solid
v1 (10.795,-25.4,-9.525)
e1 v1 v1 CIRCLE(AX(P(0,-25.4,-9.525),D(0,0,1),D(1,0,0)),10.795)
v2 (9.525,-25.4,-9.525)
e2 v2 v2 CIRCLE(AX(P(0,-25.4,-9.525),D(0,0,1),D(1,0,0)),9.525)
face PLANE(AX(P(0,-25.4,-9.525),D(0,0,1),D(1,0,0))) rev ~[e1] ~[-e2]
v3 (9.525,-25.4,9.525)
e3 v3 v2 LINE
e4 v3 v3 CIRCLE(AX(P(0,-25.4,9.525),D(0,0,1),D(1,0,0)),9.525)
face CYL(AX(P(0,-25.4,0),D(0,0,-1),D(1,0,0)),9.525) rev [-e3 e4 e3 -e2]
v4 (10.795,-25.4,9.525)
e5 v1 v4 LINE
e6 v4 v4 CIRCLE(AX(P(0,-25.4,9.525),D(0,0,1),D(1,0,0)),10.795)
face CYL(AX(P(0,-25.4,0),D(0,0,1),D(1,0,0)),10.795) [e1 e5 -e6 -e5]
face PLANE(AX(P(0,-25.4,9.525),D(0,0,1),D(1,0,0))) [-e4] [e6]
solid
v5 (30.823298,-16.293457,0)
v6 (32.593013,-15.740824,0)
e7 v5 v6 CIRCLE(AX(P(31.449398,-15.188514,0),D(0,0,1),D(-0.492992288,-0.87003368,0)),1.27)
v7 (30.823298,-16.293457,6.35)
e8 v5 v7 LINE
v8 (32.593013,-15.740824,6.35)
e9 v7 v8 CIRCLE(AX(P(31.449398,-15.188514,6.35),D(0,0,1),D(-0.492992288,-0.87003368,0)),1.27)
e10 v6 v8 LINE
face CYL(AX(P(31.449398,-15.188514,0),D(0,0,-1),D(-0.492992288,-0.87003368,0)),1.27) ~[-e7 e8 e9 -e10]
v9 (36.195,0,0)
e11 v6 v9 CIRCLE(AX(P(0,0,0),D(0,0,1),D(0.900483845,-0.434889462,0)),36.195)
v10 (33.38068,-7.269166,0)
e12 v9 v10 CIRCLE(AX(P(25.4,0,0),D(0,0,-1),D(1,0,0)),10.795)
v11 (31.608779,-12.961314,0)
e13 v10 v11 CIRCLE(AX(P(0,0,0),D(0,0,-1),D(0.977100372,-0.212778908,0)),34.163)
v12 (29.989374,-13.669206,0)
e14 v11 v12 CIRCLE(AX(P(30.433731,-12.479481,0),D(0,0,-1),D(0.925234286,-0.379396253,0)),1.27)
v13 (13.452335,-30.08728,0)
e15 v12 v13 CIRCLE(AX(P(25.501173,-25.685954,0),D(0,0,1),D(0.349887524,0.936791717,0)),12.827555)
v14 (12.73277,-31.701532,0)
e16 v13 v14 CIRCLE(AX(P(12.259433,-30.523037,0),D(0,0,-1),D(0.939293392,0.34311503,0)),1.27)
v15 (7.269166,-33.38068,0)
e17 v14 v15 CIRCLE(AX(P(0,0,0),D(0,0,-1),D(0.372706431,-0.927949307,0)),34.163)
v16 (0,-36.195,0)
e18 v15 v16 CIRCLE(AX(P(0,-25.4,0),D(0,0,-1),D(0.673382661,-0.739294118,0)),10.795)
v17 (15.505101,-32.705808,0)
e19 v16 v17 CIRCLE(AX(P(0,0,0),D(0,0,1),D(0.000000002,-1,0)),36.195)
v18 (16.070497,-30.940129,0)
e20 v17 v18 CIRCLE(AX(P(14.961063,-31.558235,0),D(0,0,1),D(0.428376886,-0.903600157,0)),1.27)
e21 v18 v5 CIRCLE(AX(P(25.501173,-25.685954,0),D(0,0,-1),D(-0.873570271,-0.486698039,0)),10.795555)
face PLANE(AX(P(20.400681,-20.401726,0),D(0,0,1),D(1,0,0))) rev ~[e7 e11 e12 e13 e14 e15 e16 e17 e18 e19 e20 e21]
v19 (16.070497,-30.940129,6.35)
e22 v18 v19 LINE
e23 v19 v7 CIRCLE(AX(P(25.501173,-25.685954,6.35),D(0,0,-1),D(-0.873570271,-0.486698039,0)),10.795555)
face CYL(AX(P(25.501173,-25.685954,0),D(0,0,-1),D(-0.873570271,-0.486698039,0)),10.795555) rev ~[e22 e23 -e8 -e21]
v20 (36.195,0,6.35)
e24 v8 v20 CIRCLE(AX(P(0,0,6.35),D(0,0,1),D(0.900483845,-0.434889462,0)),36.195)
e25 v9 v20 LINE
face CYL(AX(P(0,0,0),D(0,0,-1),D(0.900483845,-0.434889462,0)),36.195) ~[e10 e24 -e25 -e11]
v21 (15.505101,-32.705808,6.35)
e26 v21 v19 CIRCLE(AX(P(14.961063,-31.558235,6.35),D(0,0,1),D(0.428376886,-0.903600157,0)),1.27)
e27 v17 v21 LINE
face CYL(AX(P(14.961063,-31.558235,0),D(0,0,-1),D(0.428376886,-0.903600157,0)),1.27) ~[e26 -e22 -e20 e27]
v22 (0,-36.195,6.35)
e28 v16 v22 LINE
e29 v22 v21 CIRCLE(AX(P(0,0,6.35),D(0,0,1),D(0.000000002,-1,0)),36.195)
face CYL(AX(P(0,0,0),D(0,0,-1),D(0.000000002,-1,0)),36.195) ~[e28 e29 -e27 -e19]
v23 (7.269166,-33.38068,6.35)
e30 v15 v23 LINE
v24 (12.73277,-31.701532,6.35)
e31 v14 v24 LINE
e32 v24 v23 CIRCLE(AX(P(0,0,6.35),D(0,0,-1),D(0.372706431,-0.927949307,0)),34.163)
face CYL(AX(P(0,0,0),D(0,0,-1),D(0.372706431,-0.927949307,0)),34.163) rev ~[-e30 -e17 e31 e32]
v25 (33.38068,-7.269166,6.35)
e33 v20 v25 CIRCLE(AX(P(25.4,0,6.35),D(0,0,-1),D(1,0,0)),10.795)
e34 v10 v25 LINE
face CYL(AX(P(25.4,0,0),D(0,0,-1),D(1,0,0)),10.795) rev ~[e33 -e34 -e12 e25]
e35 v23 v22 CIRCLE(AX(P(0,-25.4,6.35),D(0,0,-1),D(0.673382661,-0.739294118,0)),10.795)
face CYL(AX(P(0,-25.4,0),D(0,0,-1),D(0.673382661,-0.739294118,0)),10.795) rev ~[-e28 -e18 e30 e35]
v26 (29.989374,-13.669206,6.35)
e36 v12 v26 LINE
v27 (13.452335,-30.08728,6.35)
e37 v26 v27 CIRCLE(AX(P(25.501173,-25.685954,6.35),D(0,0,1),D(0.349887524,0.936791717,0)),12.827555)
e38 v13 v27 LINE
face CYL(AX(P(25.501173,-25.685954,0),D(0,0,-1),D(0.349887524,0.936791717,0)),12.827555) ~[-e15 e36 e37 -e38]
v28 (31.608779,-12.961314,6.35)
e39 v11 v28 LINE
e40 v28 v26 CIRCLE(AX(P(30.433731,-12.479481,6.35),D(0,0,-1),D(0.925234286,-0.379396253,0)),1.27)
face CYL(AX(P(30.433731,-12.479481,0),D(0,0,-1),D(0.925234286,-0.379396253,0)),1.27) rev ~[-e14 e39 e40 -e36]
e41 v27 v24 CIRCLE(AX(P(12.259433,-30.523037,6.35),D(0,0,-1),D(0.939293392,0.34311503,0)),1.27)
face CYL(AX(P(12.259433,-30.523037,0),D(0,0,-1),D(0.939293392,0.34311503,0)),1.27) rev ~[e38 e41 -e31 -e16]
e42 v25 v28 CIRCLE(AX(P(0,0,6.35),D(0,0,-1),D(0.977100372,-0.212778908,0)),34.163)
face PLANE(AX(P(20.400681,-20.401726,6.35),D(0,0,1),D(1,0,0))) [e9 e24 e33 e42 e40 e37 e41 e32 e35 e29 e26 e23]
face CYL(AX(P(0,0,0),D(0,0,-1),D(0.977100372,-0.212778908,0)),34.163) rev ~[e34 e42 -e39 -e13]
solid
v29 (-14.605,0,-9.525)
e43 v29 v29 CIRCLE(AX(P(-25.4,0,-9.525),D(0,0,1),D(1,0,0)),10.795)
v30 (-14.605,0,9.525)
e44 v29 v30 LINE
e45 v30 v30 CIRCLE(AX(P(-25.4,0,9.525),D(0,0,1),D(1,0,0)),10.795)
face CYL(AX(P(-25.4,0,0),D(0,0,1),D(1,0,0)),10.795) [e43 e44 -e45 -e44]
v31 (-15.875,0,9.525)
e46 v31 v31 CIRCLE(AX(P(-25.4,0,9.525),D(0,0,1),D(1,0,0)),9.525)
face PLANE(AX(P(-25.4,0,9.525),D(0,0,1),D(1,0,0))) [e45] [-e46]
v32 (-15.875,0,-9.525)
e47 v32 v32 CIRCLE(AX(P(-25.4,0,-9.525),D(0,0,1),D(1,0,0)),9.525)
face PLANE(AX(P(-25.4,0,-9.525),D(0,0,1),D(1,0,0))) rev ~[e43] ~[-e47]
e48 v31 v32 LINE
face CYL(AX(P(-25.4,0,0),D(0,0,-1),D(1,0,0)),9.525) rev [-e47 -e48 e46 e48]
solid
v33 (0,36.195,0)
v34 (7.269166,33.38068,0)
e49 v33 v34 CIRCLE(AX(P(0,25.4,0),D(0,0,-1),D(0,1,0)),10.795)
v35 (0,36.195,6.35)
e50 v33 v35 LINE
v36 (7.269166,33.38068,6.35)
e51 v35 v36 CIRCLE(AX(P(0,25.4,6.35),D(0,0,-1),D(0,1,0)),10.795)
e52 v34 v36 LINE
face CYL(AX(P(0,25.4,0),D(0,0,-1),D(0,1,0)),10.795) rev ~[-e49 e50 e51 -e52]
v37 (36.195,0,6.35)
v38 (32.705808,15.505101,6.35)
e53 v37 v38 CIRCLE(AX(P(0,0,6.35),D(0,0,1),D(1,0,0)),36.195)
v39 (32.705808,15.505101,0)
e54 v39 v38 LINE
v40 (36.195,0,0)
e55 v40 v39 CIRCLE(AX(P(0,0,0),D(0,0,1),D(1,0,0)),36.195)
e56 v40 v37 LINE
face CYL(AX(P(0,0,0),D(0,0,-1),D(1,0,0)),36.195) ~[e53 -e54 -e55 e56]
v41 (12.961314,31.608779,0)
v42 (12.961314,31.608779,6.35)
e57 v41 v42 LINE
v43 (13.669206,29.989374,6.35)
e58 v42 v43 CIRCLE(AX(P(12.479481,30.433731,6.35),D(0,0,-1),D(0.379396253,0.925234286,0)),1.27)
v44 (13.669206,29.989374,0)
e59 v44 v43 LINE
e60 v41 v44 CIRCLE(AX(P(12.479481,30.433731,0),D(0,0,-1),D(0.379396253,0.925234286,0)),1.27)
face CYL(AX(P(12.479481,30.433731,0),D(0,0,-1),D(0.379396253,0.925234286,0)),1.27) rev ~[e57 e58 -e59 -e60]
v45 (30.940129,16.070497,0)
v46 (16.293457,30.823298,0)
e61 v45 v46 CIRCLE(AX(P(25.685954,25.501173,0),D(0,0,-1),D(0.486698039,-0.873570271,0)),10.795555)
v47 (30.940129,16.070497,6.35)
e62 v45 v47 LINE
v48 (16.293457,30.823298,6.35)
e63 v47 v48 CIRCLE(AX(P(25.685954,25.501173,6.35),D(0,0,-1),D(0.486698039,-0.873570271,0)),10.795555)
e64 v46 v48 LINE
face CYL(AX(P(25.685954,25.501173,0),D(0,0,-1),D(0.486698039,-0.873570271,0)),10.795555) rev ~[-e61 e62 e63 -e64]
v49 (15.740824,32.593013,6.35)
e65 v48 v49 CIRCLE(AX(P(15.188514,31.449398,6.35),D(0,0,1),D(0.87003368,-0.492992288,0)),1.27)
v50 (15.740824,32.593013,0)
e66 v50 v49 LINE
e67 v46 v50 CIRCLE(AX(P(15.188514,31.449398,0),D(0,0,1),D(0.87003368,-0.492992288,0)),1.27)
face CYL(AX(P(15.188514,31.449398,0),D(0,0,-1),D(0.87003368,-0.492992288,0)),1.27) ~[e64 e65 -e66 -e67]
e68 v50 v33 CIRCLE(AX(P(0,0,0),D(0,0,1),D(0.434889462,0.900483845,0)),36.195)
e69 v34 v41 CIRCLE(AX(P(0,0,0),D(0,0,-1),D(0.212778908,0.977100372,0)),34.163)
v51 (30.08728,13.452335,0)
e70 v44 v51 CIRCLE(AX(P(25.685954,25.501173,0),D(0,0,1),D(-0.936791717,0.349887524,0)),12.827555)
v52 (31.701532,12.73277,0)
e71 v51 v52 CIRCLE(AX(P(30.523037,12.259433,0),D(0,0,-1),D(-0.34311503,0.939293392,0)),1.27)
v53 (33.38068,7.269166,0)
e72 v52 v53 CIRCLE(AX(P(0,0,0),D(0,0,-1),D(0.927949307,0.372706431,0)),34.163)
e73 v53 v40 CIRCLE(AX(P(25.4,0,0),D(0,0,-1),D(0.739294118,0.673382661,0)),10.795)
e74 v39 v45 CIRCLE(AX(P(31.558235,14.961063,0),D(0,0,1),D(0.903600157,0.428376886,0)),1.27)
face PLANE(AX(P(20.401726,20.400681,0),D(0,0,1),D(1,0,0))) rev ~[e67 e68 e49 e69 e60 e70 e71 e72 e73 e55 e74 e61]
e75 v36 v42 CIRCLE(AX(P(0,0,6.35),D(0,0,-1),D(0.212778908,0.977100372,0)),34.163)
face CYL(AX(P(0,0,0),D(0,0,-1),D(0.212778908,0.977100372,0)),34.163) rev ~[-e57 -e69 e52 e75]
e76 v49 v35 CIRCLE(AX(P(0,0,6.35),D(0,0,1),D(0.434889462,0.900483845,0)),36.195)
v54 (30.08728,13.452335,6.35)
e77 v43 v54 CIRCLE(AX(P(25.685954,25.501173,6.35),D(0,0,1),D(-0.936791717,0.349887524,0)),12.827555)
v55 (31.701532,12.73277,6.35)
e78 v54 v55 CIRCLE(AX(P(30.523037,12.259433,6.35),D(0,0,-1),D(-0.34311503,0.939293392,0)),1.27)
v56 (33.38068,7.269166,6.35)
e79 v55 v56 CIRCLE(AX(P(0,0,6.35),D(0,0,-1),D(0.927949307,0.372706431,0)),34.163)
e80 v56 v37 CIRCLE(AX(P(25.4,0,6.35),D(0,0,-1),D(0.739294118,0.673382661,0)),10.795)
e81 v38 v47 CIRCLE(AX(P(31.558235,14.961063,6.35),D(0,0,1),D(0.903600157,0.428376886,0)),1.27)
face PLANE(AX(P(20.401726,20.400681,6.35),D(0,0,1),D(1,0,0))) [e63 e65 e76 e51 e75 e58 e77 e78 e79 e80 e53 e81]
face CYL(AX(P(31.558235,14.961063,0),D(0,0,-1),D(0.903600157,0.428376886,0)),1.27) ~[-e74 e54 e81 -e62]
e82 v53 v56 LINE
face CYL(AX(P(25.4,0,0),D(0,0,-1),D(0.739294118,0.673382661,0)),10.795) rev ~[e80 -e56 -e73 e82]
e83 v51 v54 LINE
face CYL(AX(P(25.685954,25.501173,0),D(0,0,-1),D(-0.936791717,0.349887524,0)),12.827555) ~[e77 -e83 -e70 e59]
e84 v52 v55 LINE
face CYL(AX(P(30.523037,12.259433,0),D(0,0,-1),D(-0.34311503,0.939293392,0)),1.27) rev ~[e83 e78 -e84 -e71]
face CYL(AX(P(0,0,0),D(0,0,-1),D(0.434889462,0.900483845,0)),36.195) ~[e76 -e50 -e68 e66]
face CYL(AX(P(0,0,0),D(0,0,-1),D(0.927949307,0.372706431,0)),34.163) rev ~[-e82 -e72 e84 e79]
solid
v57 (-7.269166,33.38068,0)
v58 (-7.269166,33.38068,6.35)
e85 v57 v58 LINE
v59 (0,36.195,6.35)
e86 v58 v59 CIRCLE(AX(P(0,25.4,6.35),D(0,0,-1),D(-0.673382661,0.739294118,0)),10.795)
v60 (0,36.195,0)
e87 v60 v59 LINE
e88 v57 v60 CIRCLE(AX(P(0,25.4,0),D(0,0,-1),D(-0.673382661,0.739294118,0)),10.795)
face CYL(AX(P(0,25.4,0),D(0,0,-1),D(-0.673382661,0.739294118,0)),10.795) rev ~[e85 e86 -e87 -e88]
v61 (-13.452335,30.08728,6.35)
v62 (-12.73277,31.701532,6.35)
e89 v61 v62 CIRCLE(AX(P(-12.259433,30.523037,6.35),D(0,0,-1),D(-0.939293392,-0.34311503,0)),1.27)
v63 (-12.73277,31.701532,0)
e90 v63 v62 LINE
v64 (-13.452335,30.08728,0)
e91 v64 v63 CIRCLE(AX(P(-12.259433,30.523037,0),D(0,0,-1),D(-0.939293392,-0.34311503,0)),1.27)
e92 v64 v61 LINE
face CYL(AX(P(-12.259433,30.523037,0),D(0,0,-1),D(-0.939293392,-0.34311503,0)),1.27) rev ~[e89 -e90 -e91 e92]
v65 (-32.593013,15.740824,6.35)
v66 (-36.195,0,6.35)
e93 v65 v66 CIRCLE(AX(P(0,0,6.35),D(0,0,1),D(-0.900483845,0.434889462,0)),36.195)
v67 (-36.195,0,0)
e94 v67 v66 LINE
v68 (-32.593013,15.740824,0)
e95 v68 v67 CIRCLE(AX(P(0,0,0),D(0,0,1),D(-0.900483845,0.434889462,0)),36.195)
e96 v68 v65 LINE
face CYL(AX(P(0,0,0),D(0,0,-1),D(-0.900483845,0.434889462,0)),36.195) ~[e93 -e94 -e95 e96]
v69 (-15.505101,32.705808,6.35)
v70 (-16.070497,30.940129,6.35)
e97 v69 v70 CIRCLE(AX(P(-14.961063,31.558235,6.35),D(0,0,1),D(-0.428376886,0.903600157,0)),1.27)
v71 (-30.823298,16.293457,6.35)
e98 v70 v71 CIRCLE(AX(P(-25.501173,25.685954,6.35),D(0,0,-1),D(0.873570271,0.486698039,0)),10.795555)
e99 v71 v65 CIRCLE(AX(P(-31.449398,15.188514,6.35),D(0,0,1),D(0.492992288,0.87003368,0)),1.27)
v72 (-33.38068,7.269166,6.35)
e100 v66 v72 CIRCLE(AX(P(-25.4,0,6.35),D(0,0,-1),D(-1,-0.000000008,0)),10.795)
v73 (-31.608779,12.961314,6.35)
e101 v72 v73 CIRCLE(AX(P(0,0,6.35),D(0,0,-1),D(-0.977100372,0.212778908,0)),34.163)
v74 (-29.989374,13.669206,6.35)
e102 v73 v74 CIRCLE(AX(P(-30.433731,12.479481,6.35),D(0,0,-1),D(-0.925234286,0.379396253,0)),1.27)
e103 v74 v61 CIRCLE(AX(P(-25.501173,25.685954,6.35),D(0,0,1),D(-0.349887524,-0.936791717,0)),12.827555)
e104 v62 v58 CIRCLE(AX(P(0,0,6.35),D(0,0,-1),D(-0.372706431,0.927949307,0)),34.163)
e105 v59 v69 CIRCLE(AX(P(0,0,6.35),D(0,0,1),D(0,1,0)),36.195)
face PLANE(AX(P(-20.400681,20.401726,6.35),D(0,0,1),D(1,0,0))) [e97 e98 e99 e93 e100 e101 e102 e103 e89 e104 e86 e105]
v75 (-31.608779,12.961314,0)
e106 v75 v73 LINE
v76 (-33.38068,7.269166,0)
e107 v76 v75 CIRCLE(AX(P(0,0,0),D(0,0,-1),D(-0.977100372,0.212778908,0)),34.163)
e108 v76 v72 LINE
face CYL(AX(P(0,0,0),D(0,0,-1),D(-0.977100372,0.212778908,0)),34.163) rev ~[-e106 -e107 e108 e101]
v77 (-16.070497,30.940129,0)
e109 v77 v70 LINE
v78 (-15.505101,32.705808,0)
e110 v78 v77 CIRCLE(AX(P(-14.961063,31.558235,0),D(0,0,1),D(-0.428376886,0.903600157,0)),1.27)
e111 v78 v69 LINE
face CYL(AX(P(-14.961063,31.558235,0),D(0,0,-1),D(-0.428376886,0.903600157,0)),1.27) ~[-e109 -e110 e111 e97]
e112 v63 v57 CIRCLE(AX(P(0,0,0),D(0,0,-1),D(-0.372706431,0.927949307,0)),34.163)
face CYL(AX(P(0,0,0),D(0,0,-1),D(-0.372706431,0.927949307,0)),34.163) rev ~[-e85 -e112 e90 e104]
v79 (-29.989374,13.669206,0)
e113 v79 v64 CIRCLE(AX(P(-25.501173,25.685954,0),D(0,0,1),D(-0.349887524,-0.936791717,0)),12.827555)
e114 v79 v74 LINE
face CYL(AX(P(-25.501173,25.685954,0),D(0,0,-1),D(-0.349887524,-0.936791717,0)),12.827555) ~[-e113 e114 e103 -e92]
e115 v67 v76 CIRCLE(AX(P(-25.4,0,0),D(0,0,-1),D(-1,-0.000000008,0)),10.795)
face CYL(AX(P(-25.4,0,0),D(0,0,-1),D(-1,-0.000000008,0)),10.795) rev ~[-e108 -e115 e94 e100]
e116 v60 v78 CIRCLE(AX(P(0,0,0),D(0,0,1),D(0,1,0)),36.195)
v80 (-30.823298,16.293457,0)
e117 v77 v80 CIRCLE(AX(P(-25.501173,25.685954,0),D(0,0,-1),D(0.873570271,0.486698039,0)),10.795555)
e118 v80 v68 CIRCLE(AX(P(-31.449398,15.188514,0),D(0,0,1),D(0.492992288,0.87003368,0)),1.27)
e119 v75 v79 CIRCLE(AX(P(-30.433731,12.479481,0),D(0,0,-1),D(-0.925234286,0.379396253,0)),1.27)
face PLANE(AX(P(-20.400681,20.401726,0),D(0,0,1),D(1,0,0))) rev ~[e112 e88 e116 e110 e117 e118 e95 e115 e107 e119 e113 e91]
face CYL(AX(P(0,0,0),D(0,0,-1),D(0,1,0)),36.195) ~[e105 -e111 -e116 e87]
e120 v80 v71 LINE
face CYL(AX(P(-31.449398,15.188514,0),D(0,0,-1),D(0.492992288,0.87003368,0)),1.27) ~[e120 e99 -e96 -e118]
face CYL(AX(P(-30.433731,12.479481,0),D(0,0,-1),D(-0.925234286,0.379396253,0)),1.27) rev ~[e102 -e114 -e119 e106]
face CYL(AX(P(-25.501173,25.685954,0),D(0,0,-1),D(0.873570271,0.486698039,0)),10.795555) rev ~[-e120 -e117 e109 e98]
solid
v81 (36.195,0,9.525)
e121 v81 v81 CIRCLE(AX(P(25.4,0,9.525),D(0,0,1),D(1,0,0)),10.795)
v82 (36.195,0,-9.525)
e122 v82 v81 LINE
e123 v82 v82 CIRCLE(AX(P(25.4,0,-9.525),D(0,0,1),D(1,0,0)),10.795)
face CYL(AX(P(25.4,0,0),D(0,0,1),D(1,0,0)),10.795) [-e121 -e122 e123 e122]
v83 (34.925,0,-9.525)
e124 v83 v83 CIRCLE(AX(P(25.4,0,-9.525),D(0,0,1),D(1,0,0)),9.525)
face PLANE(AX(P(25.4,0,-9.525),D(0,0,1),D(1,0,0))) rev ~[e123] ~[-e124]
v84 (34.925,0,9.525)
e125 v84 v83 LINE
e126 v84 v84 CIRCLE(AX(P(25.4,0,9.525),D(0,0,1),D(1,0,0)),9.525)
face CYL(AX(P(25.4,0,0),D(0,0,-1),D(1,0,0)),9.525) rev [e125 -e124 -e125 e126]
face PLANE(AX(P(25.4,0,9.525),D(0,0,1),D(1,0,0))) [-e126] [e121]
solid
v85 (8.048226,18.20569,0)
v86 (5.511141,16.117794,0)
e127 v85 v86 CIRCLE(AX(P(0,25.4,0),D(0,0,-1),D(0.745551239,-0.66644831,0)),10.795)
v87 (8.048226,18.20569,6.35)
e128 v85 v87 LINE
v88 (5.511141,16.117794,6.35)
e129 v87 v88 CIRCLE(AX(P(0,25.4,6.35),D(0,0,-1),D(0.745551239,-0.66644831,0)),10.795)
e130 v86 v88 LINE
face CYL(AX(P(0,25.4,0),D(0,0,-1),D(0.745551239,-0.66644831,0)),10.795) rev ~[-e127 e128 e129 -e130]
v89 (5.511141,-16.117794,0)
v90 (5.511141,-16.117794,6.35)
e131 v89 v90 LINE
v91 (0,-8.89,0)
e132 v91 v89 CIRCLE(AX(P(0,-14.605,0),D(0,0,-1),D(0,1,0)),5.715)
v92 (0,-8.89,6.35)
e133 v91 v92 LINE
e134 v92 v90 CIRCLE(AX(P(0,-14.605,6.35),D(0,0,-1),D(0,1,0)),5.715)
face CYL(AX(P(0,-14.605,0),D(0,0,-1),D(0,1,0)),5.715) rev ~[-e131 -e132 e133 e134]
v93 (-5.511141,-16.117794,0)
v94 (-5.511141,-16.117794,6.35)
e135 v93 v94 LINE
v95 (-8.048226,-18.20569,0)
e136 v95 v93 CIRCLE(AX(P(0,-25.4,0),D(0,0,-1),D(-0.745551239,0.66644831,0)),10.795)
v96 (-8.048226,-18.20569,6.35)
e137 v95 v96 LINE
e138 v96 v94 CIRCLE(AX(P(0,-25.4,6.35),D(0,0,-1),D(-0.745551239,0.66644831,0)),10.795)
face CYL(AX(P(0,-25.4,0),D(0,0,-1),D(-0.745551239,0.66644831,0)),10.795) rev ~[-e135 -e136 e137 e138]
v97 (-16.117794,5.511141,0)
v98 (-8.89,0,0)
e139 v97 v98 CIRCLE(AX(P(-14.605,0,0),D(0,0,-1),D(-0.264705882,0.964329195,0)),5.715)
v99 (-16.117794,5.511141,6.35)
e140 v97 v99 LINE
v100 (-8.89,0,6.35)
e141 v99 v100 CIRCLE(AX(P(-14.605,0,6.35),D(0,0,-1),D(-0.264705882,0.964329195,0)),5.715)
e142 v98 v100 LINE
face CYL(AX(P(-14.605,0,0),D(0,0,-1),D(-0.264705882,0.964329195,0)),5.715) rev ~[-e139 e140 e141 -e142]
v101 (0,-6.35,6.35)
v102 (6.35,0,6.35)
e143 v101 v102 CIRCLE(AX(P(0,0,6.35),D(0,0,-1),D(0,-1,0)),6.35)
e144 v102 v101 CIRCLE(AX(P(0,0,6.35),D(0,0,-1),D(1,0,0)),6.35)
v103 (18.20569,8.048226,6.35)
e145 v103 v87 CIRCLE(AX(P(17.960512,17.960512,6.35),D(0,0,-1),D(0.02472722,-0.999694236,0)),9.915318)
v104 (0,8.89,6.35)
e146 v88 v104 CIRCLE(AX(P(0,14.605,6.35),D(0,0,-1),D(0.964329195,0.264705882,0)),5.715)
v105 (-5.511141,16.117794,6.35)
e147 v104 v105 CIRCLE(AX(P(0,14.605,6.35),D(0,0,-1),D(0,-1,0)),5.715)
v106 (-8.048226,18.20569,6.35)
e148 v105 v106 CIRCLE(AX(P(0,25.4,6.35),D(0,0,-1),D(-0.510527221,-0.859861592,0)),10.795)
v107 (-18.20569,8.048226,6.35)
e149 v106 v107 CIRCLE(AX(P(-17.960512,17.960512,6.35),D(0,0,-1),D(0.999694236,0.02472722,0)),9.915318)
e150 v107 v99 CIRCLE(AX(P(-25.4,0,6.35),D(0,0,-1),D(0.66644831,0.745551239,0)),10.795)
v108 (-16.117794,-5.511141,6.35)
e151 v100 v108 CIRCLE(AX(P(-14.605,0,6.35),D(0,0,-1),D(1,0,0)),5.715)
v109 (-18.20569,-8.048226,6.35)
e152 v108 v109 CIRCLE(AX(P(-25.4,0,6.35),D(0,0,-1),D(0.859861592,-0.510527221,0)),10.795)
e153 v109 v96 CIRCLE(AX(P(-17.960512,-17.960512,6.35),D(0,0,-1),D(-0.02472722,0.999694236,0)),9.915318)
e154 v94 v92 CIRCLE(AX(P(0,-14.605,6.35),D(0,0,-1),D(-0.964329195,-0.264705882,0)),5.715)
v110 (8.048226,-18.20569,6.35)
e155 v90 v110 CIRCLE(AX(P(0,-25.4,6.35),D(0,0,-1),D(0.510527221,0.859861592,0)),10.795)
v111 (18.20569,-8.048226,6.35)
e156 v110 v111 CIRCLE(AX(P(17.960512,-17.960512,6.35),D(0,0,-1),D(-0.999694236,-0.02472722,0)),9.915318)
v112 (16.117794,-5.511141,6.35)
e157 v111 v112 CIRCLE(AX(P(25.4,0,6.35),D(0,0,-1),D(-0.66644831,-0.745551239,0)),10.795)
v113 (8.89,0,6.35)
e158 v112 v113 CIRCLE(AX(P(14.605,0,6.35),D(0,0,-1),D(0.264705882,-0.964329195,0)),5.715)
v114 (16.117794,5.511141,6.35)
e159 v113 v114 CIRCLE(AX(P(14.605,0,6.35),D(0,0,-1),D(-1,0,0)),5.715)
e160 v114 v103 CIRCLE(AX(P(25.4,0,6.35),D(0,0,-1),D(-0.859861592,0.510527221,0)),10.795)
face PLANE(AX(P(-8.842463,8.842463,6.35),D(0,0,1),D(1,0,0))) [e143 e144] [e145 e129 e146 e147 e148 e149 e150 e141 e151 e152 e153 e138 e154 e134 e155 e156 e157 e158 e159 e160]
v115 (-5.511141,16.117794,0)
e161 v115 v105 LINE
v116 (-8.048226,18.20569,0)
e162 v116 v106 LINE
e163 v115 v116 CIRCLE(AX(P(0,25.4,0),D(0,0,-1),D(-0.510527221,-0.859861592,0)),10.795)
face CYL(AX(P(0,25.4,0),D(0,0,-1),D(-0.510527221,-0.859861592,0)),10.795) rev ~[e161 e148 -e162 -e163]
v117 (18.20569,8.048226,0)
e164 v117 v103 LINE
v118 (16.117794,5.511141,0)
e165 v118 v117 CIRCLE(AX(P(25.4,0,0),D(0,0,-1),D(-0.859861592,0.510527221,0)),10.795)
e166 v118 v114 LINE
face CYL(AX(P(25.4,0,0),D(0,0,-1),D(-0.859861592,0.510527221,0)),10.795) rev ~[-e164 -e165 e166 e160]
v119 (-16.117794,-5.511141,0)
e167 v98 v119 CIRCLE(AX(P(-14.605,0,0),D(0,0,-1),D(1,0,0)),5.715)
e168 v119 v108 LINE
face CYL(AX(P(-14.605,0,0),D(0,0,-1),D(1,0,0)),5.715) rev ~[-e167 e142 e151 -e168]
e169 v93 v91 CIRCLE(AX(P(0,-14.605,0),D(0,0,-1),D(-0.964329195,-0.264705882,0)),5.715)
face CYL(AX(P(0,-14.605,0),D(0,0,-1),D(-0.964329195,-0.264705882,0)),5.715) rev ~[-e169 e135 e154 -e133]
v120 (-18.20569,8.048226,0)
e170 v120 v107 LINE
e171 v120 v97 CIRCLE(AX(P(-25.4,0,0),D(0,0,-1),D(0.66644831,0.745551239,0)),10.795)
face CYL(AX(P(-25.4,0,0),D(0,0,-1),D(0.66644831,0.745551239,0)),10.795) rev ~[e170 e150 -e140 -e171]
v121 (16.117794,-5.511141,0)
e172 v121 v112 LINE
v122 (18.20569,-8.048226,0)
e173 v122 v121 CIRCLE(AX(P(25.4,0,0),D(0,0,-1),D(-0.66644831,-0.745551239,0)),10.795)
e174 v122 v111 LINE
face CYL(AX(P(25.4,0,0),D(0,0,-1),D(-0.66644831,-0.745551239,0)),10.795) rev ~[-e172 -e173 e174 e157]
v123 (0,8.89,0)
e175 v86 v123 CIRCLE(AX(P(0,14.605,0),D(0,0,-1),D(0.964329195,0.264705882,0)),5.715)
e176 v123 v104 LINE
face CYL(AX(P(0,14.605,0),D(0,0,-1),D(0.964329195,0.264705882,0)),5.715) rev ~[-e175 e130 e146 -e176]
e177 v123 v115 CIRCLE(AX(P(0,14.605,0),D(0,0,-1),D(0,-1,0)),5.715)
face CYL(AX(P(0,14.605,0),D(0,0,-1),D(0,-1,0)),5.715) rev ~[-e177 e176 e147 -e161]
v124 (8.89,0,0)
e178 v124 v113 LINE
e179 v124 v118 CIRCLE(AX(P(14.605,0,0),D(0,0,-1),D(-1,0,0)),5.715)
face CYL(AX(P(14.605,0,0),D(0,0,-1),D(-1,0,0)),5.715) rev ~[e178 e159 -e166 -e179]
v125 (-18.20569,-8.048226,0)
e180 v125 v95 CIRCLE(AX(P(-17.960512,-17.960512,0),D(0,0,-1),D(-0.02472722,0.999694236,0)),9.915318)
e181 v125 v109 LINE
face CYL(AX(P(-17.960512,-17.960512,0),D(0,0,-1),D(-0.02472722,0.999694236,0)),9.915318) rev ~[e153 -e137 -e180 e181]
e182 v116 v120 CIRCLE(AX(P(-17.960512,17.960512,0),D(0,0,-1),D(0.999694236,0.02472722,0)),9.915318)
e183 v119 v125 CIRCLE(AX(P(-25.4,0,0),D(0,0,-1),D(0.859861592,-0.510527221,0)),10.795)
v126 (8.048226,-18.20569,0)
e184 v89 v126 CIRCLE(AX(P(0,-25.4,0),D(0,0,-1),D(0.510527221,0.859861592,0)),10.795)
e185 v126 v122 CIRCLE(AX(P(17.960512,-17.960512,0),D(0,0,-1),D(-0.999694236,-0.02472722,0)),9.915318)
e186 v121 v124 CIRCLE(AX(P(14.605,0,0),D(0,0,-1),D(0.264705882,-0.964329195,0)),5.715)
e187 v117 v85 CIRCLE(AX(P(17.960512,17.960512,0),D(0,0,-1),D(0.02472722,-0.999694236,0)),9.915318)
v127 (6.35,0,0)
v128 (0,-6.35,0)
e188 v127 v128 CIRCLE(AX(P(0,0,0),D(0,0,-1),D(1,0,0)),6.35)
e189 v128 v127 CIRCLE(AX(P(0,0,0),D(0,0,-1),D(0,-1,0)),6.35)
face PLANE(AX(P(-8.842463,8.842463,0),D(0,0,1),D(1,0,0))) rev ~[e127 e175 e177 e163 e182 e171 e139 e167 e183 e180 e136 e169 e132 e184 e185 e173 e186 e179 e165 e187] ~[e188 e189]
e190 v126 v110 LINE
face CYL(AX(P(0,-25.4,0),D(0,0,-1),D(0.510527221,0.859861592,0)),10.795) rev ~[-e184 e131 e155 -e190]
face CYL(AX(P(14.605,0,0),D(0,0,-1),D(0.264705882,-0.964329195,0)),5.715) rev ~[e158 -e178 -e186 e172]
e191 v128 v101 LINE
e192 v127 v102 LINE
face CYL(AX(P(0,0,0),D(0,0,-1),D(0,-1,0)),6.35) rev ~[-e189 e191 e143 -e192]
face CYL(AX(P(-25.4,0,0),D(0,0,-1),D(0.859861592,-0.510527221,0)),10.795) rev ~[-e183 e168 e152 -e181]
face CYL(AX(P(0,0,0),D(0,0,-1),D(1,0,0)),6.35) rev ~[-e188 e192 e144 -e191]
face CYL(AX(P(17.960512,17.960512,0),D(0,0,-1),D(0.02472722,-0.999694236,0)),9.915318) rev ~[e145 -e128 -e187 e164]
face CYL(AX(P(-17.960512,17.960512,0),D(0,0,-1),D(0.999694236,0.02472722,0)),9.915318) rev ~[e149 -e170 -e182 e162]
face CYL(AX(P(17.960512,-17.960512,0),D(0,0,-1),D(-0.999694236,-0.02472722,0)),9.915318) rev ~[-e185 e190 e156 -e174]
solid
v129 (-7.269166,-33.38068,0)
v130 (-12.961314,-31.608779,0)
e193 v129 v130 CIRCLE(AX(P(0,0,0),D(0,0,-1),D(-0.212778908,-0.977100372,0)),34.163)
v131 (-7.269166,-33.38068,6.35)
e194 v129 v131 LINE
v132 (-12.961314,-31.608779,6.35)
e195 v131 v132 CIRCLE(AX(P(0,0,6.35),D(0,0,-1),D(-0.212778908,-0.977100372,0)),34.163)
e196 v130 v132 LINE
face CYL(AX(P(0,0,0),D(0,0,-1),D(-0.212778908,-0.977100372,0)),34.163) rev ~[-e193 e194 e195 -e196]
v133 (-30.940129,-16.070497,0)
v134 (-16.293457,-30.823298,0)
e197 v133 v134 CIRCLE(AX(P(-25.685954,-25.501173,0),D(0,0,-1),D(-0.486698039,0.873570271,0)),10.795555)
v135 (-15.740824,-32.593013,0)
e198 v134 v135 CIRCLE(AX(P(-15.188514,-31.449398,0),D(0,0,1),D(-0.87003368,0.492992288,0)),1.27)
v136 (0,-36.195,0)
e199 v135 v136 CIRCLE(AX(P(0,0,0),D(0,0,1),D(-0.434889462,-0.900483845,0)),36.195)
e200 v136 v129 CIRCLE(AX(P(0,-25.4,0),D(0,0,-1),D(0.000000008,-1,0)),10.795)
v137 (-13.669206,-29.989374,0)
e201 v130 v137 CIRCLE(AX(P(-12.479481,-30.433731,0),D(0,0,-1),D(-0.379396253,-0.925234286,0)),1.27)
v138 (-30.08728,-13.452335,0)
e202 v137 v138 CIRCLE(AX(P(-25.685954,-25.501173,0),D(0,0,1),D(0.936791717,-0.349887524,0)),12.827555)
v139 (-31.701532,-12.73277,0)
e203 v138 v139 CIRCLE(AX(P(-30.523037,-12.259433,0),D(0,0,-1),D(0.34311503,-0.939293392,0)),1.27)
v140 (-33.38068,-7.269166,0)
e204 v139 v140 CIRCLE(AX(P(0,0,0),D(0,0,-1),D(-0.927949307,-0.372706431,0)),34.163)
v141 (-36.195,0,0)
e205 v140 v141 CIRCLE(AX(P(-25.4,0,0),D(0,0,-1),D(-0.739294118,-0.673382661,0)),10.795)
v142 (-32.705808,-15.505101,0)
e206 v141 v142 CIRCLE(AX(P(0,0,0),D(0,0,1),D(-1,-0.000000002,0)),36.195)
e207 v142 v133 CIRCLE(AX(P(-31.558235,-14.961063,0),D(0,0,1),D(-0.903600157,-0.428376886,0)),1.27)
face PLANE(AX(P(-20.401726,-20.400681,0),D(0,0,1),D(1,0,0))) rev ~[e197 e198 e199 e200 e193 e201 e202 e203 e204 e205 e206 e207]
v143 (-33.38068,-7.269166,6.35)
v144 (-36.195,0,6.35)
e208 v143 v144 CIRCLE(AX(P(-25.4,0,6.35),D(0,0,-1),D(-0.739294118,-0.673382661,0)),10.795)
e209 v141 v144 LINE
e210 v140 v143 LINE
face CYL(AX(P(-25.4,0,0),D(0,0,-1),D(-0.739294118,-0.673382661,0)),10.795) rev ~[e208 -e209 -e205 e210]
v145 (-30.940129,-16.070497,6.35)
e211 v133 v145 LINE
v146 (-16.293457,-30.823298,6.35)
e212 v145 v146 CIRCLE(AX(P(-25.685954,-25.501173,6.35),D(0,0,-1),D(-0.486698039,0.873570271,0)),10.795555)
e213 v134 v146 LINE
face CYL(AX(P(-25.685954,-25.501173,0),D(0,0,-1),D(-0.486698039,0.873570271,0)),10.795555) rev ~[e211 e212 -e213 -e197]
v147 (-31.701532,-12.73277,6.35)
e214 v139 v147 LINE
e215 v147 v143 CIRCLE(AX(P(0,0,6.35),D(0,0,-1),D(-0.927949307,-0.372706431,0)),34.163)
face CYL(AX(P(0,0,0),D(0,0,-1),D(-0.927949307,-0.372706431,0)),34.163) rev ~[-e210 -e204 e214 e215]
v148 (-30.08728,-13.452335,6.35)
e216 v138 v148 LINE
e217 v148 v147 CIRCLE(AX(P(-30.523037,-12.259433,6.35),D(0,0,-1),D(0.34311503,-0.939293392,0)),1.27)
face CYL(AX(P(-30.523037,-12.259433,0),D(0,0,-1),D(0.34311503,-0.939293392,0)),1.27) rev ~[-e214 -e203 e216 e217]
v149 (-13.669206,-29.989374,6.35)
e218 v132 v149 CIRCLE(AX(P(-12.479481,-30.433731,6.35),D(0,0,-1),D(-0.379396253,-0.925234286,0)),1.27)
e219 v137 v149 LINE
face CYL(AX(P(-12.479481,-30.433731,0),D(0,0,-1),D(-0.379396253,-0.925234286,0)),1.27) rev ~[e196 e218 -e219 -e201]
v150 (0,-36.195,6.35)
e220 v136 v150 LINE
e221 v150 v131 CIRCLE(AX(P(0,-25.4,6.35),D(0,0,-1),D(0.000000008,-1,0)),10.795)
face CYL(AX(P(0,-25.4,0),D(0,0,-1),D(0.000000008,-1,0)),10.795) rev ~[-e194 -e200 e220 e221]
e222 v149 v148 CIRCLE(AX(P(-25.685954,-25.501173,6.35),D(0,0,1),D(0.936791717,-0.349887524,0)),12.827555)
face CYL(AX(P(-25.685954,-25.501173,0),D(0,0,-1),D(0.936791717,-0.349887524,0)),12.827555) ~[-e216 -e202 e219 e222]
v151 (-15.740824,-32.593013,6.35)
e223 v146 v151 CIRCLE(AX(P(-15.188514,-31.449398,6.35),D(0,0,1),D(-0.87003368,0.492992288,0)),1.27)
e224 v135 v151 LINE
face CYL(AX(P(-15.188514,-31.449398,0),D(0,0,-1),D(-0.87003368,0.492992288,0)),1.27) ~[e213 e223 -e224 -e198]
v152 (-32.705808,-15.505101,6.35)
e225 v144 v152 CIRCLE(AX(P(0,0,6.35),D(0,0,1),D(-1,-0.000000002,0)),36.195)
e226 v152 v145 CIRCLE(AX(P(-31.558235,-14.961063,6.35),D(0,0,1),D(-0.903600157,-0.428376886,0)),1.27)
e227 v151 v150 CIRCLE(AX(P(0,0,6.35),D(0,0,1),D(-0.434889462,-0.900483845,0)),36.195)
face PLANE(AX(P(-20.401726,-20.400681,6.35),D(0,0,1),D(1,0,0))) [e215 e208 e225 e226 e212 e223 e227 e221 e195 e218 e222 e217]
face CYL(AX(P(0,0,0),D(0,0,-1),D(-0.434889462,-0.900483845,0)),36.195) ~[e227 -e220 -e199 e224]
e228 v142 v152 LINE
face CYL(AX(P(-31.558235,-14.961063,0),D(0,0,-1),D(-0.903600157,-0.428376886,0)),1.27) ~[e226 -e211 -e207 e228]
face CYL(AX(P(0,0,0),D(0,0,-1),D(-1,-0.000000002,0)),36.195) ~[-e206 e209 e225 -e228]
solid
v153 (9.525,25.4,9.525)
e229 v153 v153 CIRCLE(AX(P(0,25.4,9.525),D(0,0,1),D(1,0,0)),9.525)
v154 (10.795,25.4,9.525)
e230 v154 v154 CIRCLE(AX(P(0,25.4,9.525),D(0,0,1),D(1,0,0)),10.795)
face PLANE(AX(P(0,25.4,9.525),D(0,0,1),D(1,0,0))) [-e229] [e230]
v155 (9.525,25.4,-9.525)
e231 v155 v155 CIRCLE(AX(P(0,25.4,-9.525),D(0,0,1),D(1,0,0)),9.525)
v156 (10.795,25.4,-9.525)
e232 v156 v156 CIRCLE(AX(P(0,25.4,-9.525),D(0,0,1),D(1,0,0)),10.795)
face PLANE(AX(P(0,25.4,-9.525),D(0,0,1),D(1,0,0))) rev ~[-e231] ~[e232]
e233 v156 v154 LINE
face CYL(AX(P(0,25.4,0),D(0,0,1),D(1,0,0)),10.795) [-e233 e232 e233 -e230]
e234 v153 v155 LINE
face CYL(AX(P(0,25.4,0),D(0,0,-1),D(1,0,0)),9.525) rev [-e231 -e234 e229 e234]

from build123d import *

# Parameters (mm, degrees)
F1_DEPTH = 6.35
F2_R     = 10.795
F2_R_2   = 9.525
F3_DEPTH = 9.525


with BuildPart() as f1:
    # F0 (on Top) → F1 (new body)
    with BuildSketch(Plane.XY):
        with BuildLine():
            ThreePointArc((-16.1177941176, 5.511141348), (-11.1397722573, 4.5446035791), (-8.89, 0))
            ThreePointArc((-8.89, 0), (-6.2861792847, 6.2861792847), (0, 8.89))
            ThreePointArc((0, 8.89), (-4.5446035791, 11.1397722573), (-5.511141348, 16.1177941176))
            ThreePointArc((-5.511141348, 16.1177941176), (-6.859587162, 17.0646482398), (-8.0482256298, 18.2056904979))
            ThreePointArc((-8.0482256298, 18.2056904979), (-10.9493233892, 10.9493233892), (-18.2056904979, 8.0482256298))
            ThreePointArc((-18.2056904979, 8.0482256298), (-17.0646482398, 6.859587162), (-16.1177941176, 5.511141348))
        make_face()
        with BuildLine():
            ThreePointArc((0, 8.89), (6.2861792847, 6.2861792847), (8.89, 0))
            ThreePointArc((8.89, 0), (11.1397722573, 4.5446035791), (16.1177941176, 5.511141348))
            ThreePointArc((16.1177941176, 5.511141348), (17.0646482398, 6.859587162), (18.2056904979, 8.0482256298))
            ThreePointArc((18.2056904979, 8.0482256298), (10.9493233892, 10.9493233892), (8.0482256298, 18.2056904979))
            ThreePointArc((8.0482256298, 18.2056904979), (6.859587162, 17.0646482398), (5.511141348, 16.1177941176))
            ThreePointArc((5.511141348, 16.1177941176), (4.5446035791, 11.1397722573), (0, 8.89))
        make_face()
        with BuildLine():
            ThreePointArc((8.89, 0), (6.2861792847, -6.2861792847), (0, -8.89))
            ThreePointArc((0, -8.89), (4.5446035791, -11.1397722573), (5.511141348, -16.1177941176))
            ThreePointArc((5.511141348, -16.1177941176), (6.859587162, -17.0646482398), (8.0482256298, -18.2056904979))
            ThreePointArc((8.0482256298, -18.2056904979), (10.9493233892, -10.9493233892), (18.2056904979, -8.0482256298))
            ThreePointArc((18.2056904979, -8.0482256298), (17.0646482398, -6.859587162), (16.1177941176, -5.511141348))
            ThreePointArc((16.1177941176, -5.511141348), (11.1397722573, -4.5446035791), (8.89, 0))
        make_face()
        with BuildLine():
            ThreePointArc((-5.511141348, -16.1177941176), (-4.5446035791, -11.1397722573), (0, -8.89))
            ThreePointArc((0, -8.89), (-6.2861792847, -6.2861792847), (-8.89, 0))
            ThreePointArc((-8.89, 0), (-11.1397722573, -4.5446035791), (-16.1177941176, -5.511141348))
            ThreePointArc((-16.1177941176, -5.511141348), (-17.0646482398, -6.859587162), (-18.2056904979, -8.0482256298))
            ThreePointArc((-18.2056904979, -8.0482256298), (-10.9493233892, -10.9493233892), (-8.0482256298, -18.2056904979))
            ThreePointArc((-8.0482256298, -18.2056904979), (-6.859587162, -17.0646482398), (-5.511141348, -16.1177941176))
        make_face()
        with BuildLine():
            ThreePointArc((-8.89, 0), (-6.2861792847, -6.2861792847), (0, -8.89))
            ThreePointArc((0, -8.89), (6.2861792847, -6.2861792847), (8.89, 0))
            ThreePointArc((8.89, 0), (6.2861792847, 6.2861792847), (0, 8.89))
            ThreePointArc((0, 8.89), (-6.2861792847, 6.2861792847), (-8.89, 0))
        make_face()
        with BuildLine():
            ThreePointArc((0, -6.35), (-4.4901280605, 4.4901280605), (6.35, 0))
            ThreePointArc((6.35, 0), (4.4901280605, -4.4901280605), (0, -6.35))
        make_face(mode=Mode.SUBTRACT)
    extrude(amount=F1_DEPTH)


with BuildPart() as f1b:
    # F0 (on Top) → F1, piece 2 (new body)
    with BuildSketch(Plane.XY):
        with BuildLine():
            ThreePointArc((-36.195, -8.67e-08), (-35.4668631219, 3.8974724995), (-33.38068, 7.2691658213))
            ThreePointArc((-33.38068, 7.2691658213), (-32.6191290568, 10.1539641804), (-31.6087789055, 12.9613141735))
            ThreePointArc((-31.6087789055, 12.9613141735), (-30.942410993, 13.643158308), (-29.9893742073, 13.6692064131))
            ThreePointArc((-29.9893742073, 13.6692064131), (-16.4635241174, 16.5828183562), (-13.4523352483, 30.0872804633))
            ThreePointArc((-13.4523352483, 30.0872804633), (-13.4194071625, 31.0401043504), (-12.7327698082, 31.7015321713))
            ThreePointArc((-12.7327698082, 31.7015321713), (-10.0361467501, 32.6555711543), (-7.2691658213, 33.38068))
            ThreePointArc((-7.2691658213, 33.38068), (-3.89747254, 35.4668631063), (0, 36.195))
            ThreePointArc((0, 36.195), (-7.9464242233, 35.311929529), (-15.5051013775, 32.7058076841))
            ThreePointArc((-15.5051013775, 32.7058076841), (-16.1705661328, 31.9455357884), (-16.0704969772, 30.9401289751))
            ThreePointArc((-16.0704969772, 30.9401289751), (-17.8951689057, 18.0248368028), (-30.8232980949, 16.2934572343))
            ThreePointArc((-30.8232980949, 16.2934572343), (-31.8279562333, 16.4007825384), (-32.5930127843, 15.7408240777))
            ThreePointArc((-32.5930127843, 15.7408240777), (-35.2830137892, 8.0738443727), (-36.195, -8.67e-08))
        make_face()
    extrude(amount=F1_DEPTH)


with BuildPart() as f1c:
    # F0 (on Top) → F1, piece 3 (new body)
    with BuildSketch(Plane.XY):
        with BuildLine():
            ThreePointArc((8.97e-08, -36.195), (-3.8974724982, -35.4668631224), (-7.2691658213, -33.38068))
            ThreePointArc((-7.2691658213, -33.38068), (-10.1539641804, -32.6191290568), (-12.9613141735, -31.6087789055))
            ThreePointArc((-12.9613141735, -31.6087789055), (-13.643158308, -30.942410993), (-13.6692064131, -29.9893742073))
            ThreePointArc((-13.6692064131, -29.9893742073), (-16.5828183562, -16.4635241174), (-30.0872804633, -13.4523352483))
            ThreePointArc((-30.0872804633, -13.4523352483), (-31.0401043504, -13.4194071625), (-31.7015321713, -12.7327698082))
            ThreePointArc((-31.7015321713, -12.7327698082), (-32.6555711543, -10.0361467501), (-33.38068, -7.2691658213))
            ThreePointArc((-33.38068, -7.2691658213), (-35.4668630906, -3.8974725804), (-36.195, -8.67e-08))
            ThreePointArc((-36.195, -8.67e-08), (-35.3119295195, -7.9464242656), (-32.7058076841, -15.5051013775))
            ThreePointArc((-32.7058076841, -15.5051013775), (-31.9455357884, -16.1705661328), (-30.9401289751, -16.0704969772))
            ThreePointArc((-30.9401289751, -16.0704969772), (-18.0248368028, -17.8951689057), (-16.2934572343, -30.8232980949))
            ThreePointArc((-16.2934572343, -30.8232980949), (-16.4007825384, -31.8279562333), (-15.7408240777, -32.5930127843))
            ThreePointArc((-15.7408240777, -32.5930127843), (-8.0738443712, -35.2830137895), (8.97e-08, -36.195))
        make_face()
    extrude(amount=F1_DEPTH)


with BuildPart() as f1d:
    # F0 (on Top) → F1, piece 4 (new body)
    with BuildSketch(Plane.XY):
        with BuildLine():
            ThreePointArc((36.195, 0), (35.4668631063, -3.89747254), (33.38068, -7.2691658213))
            ThreePointArc((33.38068, -7.2691658213), (32.6191290568, -10.1539641804), (31.6087789055, -12.9613141735))
            ThreePointArc((31.6087789055, -12.9613141735), (30.942410993, -13.643158308), (29.9893742073, -13.6692064131))
            ThreePointArc((29.9893742073, -13.6692064131), (16.4635241174, -16.5828183562), (13.4523352483, -30.0872804633))
            ThreePointArc((13.4523352483, -30.0872804633), (13.4194071625, -31.0401043504), (12.7327698082, -31.7015321713))
            ThreePointArc((12.7327698082, -31.7015321713), (10.0361467501, -32.6555711543), (7.2691658213, -33.38068))
            ThreePointArc((7.2691658213, -33.38068), (3.8974725818, -35.4668630901), (8.97e-08, -36.195))
            ThreePointArc((8.97e-08, -36.195), (7.946424267, -35.3119295192), (15.5051013775, -32.7058076841))
            ThreePointArc((15.5051013775, -32.7058076841), (16.1705661328, -31.9455357884), (16.0704969772, -30.9401289751))
            ThreePointArc((16.0704969772, -30.9401289751), (17.8951689057, -18.0248368028), (30.8232980949, -16.2934572343))
            ThreePointArc((30.8232980949, -16.2934572343), (31.8279562333, -16.4007825384), (32.5930127843, -15.7408240777))
            ThreePointArc((32.5930127843, -15.7408240777), (35.2830137795, -8.0738444149), (36.195, 0))
        make_face()
    extrude(amount=F1_DEPTH)


with BuildPart() as f1e:
    # F0 (on Top) → F1, piece 5 (new body)
    with BuildSketch(Plane.XY):
        with BuildLine():
            ThreePointArc((31.7015321713, 12.7327698082), (32.6555711543, 10.0361467501), (33.38068, 7.2691658213))
            ThreePointArc((33.38068, 7.2691658213), (35.4668631063, 3.89747254), (36.195, 0))
            ThreePointArc((36.195, 0), (35.311929529, 7.9464242233), (32.7058076841, 15.5051013775))
            ThreePointArc((32.7058076841, 15.5051013775), (31.9455357884, 16.1705661328), (30.9401289751, 16.0704969772))
            ThreePointArc((30.9401289751, 16.0704969772), (18.0248368028, 17.8951689057), (16.2934572343, 30.8232980949))
            ThreePointArc((16.2934572343, 30.8232980949), (16.4007825384, 31.8279562333), (15.7408240777, 32.5930127843))
            ThreePointArc((15.7408240777, 32.5930127843), (8.0738444149, 35.2830137795), (0, 36.195))
            ThreePointArc((0, 36.195), (3.89747254, 35.4668631063), (7.2691658213, 33.38068))
            ThreePointArc((7.2691658213, 33.38068), (10.1539641804, 32.6191290568), (12.9613141735, 31.6087789055))
            ThreePointArc((12.9613141735, 31.6087789055), (13.643158308, 30.942410993), (13.6692064131, 29.9893742073))
            ThreePointArc((13.6692064131, 29.9893742073), (16.5828183562, 16.4635241174), (30.0872804633, 13.4523352483))
            ThreePointArc((30.0872804633, 13.4523352483), (31.0401043504, 13.4194071625), (31.7015321713, 12.7327698082))
        make_face()
    extrude(amount=F1_DEPTH)


with BuildPart() as f3:
    # F2 (on Top) → F3 (new body, symmetric)
    with BuildSketch(Plane.XY):
        with Locations((-25.4, 0)):
            Circle(F2_R)
        with Locations((-25.4, 0)):
            Circle(F2_R_2, mode=Mode.SUBTRACT)
    extrude(amount=F3_DEPTH, both=True)


with BuildPart() as f3b:
    # F2 (on Top) → F3, piece 2 (new body, symmetric)
    with BuildSketch(Plane.XY):
        with Locations((0, -25.4)):
            Circle(F2_R)
        with Locations((0, -25.4)):
            Circle(F2_R_2, mode=Mode.SUBTRACT)
    extrude(amount=F3_DEPTH, both=True)


with BuildPart() as f3c:
    # F2 (on Top) → F3, piece 3 (new body, symmetric)
    with BuildSketch(Plane.XY):
        with Locations((25.4, 0)):
            Circle(F2_R)
        with Locations((25.4, 0)):
            Circle(F2_R_2, mode=Mode.SUBTRACT)
    extrude(amount=F3_DEPTH, both=True)


with BuildPart() as f3d:
    # F2 (on Top) → F3, piece 4 (new body, symmetric)
    with BuildSketch(Plane.XY):
        with Locations((0, 25.4)):
            Circle(F2_R)
        with Locations((0, 25.4)):
            Circle(F2_R_2, mode=Mode.SUBTRACT)
    extrude(amount=F3_DEPTH, both=True)


solid = Compound([f1.part, f1b.part, f1c.part, f1d.part, f1e.part, f3.part, f3b.part, f3c.part, f3d.part])
